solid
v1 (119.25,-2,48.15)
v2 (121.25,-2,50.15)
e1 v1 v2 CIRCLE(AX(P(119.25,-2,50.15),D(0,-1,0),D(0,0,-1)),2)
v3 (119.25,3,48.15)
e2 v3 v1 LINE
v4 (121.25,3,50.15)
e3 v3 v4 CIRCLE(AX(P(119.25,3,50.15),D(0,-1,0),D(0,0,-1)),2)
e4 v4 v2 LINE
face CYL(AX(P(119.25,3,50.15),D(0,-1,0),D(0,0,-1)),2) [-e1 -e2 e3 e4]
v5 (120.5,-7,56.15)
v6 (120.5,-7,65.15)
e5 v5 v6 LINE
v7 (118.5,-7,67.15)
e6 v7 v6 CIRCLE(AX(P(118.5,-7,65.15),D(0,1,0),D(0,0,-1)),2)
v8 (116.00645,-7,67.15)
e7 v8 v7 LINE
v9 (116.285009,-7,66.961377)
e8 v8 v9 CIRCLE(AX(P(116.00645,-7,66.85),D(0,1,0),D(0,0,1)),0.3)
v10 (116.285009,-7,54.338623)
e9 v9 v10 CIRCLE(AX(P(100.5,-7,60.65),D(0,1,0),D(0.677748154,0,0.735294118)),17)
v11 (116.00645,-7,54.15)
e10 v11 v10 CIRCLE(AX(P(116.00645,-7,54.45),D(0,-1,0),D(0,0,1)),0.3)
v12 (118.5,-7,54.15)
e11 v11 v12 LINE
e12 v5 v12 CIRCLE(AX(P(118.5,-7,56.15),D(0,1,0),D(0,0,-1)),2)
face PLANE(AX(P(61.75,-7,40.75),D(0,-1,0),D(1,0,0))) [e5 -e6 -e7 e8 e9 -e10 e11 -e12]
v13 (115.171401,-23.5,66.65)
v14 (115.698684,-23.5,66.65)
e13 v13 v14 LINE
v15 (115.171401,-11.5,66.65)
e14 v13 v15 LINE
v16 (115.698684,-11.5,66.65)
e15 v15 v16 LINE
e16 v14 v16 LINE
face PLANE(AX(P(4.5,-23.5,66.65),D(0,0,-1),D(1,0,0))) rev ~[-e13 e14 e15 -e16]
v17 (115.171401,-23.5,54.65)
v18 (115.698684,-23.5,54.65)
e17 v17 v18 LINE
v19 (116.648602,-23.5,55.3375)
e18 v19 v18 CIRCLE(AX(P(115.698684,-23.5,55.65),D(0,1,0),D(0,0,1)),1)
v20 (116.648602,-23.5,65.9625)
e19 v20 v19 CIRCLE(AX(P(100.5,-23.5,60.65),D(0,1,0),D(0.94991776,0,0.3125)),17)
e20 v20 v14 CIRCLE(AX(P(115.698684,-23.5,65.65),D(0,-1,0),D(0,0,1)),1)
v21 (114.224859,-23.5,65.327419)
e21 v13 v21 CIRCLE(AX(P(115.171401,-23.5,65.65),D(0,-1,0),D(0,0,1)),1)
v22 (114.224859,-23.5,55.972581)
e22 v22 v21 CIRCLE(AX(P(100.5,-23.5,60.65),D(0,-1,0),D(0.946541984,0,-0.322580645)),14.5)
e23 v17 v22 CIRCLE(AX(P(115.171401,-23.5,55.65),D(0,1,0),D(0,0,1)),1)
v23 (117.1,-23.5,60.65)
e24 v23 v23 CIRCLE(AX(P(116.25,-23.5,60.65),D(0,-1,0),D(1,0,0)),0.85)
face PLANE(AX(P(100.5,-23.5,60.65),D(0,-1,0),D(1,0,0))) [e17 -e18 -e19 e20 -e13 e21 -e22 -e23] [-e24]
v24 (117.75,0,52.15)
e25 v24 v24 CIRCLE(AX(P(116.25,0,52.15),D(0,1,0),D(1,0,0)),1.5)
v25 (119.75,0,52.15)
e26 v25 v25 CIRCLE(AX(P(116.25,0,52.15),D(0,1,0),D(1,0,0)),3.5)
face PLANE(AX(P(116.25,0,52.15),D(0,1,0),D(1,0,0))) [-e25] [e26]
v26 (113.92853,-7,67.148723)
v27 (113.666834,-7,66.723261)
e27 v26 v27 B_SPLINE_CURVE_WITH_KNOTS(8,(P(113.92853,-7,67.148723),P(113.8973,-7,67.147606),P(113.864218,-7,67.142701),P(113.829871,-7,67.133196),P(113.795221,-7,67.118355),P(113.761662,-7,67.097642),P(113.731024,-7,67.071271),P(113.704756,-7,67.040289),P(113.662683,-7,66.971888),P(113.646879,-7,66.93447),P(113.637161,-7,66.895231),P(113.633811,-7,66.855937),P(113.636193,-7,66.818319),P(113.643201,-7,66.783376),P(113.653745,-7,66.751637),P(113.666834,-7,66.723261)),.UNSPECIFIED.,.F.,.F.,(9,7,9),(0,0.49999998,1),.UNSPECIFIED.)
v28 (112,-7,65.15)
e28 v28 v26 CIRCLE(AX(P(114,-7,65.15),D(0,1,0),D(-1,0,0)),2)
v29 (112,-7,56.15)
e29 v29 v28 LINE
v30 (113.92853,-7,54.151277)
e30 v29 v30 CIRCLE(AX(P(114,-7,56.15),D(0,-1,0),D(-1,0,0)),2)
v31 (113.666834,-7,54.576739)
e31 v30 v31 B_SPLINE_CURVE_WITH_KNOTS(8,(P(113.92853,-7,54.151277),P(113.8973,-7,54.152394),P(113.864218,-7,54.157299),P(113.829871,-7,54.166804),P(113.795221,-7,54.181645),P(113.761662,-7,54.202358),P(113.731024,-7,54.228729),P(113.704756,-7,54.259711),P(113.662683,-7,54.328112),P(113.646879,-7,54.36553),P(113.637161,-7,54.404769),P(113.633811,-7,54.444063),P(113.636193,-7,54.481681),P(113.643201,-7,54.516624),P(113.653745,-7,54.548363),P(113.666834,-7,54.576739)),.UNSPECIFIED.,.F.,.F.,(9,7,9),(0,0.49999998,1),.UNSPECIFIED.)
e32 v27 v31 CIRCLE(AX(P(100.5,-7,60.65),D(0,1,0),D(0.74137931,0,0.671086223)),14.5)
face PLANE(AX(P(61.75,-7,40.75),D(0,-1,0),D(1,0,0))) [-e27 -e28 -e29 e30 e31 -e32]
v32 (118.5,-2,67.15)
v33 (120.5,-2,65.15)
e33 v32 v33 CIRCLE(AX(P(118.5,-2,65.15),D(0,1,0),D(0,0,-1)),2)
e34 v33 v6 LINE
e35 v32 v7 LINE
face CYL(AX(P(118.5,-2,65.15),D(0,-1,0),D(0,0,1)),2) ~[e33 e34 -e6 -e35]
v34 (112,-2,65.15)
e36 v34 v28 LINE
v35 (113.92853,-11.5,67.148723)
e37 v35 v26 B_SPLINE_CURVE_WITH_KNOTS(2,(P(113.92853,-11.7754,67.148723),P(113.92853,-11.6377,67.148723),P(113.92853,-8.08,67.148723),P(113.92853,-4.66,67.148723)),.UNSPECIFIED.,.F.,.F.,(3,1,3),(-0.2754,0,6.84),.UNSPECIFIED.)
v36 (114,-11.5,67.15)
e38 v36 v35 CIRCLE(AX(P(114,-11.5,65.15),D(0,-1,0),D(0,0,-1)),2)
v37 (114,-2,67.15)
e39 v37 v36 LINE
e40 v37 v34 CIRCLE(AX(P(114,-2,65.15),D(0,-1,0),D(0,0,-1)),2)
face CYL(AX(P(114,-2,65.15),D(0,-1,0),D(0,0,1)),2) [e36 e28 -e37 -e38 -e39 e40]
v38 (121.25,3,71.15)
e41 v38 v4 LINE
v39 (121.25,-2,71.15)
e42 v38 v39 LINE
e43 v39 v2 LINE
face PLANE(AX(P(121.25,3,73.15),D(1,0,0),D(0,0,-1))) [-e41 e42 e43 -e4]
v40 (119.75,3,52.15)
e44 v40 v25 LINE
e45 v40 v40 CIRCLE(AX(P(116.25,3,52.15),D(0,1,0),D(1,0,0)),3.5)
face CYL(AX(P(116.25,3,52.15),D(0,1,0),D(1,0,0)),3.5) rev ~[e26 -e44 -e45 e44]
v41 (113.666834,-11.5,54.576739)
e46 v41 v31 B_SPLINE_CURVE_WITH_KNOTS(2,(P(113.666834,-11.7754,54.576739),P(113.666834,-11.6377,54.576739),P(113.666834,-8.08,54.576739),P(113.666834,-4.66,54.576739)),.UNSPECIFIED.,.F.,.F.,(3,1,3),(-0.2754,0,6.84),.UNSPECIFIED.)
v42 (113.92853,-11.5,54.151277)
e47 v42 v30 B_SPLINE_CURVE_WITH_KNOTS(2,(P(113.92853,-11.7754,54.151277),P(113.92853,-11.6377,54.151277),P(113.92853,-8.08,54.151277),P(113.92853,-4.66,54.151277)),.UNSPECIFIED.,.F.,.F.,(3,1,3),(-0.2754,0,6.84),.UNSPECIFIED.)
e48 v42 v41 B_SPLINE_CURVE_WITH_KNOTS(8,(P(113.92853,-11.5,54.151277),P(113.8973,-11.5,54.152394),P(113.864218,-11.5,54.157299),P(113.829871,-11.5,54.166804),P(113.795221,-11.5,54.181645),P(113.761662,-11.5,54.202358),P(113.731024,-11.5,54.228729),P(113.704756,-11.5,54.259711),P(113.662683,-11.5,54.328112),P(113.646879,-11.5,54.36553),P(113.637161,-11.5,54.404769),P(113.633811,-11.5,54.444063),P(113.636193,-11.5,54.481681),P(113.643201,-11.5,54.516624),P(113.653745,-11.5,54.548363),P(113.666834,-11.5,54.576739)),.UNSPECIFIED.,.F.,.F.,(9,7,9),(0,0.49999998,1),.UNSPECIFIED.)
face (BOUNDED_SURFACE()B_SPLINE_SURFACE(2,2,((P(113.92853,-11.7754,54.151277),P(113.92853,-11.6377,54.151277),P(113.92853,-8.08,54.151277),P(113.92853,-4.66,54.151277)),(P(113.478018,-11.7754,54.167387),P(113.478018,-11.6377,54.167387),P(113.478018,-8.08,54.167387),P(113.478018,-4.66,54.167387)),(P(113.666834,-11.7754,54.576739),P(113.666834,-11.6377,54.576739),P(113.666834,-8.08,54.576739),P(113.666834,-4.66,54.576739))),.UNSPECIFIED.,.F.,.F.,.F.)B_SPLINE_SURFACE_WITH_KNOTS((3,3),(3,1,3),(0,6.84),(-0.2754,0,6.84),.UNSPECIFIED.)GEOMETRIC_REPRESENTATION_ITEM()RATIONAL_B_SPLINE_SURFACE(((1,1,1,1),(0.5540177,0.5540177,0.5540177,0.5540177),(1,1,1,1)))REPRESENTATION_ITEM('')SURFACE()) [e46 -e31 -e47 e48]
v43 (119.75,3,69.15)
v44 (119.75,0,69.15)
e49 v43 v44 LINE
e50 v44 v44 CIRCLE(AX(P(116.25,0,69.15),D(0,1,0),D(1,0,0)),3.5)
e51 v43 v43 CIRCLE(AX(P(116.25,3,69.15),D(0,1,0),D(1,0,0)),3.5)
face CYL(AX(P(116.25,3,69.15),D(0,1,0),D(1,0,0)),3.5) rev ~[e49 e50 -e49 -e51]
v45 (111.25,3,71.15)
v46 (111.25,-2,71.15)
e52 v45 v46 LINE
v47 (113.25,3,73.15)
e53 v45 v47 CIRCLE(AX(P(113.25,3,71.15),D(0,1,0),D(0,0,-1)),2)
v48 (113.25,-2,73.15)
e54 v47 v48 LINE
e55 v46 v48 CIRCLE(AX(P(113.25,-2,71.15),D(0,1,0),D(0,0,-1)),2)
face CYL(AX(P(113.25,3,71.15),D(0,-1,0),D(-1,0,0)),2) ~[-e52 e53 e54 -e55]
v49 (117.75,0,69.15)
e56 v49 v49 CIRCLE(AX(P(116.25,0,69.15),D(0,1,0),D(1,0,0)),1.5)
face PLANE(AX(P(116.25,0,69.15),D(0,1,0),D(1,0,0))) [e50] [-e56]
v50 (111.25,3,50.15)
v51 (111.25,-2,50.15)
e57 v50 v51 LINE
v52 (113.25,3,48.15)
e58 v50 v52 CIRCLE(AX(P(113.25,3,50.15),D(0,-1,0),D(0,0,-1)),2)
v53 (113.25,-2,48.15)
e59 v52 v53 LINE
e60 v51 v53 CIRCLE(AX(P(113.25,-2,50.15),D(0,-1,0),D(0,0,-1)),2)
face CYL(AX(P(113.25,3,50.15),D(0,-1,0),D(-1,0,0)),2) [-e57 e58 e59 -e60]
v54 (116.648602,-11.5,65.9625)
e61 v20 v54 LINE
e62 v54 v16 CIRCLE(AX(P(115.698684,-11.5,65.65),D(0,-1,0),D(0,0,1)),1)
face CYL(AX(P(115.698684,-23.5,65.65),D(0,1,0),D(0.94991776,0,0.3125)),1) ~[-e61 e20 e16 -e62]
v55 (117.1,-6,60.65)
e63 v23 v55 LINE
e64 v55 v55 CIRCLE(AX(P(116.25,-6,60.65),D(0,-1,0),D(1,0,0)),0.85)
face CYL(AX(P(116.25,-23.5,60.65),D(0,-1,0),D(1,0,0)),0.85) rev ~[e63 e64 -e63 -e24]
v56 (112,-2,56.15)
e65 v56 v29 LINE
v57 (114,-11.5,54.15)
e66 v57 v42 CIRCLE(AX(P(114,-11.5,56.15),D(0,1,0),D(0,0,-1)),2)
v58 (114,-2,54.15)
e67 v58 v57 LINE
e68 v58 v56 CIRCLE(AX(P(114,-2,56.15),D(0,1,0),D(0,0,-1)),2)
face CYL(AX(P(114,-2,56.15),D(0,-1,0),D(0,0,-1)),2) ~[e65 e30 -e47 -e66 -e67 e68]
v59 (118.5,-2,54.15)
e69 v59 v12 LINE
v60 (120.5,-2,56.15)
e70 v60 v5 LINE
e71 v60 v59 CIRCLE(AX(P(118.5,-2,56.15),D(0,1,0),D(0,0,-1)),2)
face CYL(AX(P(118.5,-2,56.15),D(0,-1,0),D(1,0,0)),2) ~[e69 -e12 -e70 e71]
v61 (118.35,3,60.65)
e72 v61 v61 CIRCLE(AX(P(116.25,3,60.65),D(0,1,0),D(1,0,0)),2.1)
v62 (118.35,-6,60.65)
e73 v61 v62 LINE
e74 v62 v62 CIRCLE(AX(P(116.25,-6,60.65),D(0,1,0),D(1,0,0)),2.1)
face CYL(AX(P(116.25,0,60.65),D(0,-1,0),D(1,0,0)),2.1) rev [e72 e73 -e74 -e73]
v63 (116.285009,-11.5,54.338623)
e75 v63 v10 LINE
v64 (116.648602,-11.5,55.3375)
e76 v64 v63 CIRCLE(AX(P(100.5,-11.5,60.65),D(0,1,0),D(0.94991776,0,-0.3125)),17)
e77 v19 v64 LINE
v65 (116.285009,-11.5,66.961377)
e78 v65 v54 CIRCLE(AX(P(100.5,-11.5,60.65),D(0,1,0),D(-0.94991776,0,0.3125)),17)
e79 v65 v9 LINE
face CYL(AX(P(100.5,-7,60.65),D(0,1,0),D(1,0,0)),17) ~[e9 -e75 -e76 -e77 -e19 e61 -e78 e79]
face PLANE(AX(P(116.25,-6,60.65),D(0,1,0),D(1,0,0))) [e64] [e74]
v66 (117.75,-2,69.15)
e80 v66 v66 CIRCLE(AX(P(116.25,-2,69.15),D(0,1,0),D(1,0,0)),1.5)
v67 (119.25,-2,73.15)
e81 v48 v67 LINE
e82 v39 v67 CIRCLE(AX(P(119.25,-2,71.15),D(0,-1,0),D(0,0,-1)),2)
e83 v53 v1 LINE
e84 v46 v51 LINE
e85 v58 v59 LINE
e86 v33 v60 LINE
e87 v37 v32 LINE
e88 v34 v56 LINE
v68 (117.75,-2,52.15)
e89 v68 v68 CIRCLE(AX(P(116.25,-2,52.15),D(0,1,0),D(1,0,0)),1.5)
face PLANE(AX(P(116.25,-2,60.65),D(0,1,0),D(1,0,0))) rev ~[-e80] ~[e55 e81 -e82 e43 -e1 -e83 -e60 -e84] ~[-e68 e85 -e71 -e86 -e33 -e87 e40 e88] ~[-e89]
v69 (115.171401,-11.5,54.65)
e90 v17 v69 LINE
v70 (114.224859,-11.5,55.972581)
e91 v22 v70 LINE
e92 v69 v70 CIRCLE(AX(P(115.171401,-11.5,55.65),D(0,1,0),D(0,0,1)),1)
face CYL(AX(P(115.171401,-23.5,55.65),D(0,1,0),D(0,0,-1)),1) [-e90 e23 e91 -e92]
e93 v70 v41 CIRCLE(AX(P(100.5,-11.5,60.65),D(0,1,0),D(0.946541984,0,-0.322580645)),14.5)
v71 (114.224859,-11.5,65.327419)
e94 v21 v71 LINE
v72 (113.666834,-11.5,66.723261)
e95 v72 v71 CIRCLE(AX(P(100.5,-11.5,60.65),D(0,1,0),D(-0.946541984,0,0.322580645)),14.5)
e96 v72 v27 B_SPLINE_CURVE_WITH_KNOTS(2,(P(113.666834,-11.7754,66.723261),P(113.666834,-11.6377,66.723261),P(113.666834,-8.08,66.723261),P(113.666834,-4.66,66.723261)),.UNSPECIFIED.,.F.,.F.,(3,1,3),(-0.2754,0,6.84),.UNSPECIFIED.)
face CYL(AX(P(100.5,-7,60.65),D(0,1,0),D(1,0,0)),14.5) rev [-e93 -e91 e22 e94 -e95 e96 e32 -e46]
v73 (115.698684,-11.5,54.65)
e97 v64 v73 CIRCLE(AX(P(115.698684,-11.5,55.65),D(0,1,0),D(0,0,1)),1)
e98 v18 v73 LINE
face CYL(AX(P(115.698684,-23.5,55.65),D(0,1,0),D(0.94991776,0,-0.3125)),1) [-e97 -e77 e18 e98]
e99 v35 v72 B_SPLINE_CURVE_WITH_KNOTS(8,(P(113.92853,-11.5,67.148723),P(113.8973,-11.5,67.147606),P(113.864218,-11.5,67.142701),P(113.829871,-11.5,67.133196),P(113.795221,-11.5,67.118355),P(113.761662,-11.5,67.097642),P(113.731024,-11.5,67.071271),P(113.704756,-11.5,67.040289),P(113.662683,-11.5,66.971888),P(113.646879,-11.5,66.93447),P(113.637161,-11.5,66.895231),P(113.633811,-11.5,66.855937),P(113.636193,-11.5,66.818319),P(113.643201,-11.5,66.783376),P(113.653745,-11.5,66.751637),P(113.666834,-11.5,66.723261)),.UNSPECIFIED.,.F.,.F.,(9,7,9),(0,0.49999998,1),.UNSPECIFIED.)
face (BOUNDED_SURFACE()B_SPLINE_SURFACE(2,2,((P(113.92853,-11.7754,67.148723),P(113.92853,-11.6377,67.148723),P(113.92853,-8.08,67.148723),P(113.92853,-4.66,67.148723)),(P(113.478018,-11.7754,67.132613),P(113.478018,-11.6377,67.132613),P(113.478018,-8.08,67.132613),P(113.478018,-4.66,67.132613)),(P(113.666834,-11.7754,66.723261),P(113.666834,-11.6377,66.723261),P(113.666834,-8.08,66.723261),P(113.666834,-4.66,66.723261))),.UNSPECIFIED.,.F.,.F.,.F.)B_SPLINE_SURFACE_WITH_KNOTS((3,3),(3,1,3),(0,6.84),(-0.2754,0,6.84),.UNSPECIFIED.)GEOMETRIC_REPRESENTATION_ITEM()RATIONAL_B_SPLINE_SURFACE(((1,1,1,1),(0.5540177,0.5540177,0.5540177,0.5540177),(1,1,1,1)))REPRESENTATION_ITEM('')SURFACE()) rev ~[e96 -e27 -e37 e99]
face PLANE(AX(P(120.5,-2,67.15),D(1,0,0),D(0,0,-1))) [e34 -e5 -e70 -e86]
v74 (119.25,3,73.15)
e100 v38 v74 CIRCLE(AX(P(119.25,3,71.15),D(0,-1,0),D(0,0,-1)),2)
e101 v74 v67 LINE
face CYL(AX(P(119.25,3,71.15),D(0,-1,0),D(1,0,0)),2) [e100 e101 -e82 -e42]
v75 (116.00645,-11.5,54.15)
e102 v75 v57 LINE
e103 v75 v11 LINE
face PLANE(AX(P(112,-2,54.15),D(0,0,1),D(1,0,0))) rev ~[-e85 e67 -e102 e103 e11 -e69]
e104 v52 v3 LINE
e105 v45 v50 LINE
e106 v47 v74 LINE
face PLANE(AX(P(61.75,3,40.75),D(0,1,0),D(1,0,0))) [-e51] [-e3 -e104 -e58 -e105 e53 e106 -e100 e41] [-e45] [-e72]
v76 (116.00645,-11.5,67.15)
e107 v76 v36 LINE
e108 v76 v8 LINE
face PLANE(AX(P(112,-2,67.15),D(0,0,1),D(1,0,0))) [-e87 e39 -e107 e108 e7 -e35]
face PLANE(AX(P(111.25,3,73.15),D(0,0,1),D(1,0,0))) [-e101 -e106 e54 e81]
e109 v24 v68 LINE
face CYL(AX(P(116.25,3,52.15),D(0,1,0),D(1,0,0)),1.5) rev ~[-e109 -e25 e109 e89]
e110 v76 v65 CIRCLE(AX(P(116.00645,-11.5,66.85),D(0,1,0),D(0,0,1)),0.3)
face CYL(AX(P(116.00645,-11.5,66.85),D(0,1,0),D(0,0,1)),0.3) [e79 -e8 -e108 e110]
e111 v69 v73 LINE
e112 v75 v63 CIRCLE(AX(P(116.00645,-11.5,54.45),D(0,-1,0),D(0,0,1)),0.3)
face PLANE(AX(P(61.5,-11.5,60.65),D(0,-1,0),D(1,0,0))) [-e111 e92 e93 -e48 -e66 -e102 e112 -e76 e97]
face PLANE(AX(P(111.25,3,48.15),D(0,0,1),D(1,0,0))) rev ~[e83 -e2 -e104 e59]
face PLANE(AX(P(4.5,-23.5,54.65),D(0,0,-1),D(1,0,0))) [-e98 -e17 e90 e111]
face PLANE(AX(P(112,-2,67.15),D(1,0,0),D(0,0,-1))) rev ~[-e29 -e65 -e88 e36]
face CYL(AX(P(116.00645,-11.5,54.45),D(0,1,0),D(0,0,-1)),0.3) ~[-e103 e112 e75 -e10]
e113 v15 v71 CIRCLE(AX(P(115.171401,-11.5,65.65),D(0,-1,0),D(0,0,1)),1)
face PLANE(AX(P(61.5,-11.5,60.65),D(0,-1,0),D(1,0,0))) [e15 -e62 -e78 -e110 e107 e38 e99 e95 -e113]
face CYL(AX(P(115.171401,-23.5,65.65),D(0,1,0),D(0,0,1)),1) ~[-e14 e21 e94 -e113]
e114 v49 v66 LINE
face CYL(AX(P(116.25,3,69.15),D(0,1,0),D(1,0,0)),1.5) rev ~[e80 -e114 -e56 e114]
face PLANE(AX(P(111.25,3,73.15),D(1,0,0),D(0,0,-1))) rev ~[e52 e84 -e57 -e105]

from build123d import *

# Parameters (mm, degrees)
SKETCH1_W           = 123.5
SKETCH1_H           = 81.5
BOSS_EXTRUDE1_DEPTH = 8
CHAMFER1_SIZE       = 10
SKETCH2_W           = 130
SKETCH2_H           = 88
BOSS_EXTRUDE2_DEPTH = 9
FILLET1_R           = 2
SKETCH3_W           = 124
SKETCH3_H           = 82
CUT_EXTRUDE1_DEPTH  = 2
FILLET2_R           = 2
SKETCH4_R           = 10
CUT_EXTRUDE2_DEPTH  = 18
SKETCH5_R           = 17
SKETCH5_R_2         = 14.5
BOSS_EXTRUDE3_DEPTH = 16.5
SKETCH6_W           = 170
SKETCH6_H           = 36.5
SKETCH6_W_2         = 114
SKETCH6_H_2         = 12
CUT_EXTRUDE3_DEPTH  = 12
FILLET3_R           = 1
SKETCH7_R           = 0.85
CUT_EXTRUDE4_DEPTH  = 20.75
SKETCH11_W          = 130
SKETCH11_H          = 10
CUT_EXTRUDE8_DEPTH  = 85.75
SKETCH13_R          = 2.1
CUT_EXTRUDE9_DEPTH  = 6
SKETCH15_R          = 2.1
SKETCH15_R_2        = 10
BOSS_EXTRUDE4_DEPTH = 3
SKETCH16_W          = 188.077165187
SKETCH16_H          = 117.101438596
SKETCH16_W_2        = 10
SKETCH16_H_2        = 25
CUT_EXTRUDE10_DEPTH = 27.5
CUT_EXTRUDE11_START = -5
SKETCH17_W          = 10
SKETCH17_H          = 25
SKETCH17_W_2        = 8.5
SKETCH17_H_2        = 13
CUT_EXTRUDE11_DEPTH = 22.5
FILLET4_R           = 2
SKETCH18_R          = 1.5
CUT_EXTRUDE12_DEPTH = 27.5
SKETCH19_R          = 3.5
CUT_EXTRUDE13_DEPTH = 3
FILLET5_R           = 0.3


with BuildPart() as part:
    # Sketch1 → Boss-Extrude1 (new body)
    with BuildSketch(Plane(origin=(0, 0, 0), x_dir=(1, 0, 0), z_dir=(0, 1, 0))):
        with Locations((61.75, -40.75)):
            Rectangle(SKETCH1_W, SKETCH1_H)
    extrude(amount=BOSS_EXTRUDE1_DEPTH)

    # Chamfer1
    chamfer1_edges = [part.edges().sort_by_distance(p)[0] for p in [
        (123.5, 4, 0),
        (123.5, 4, 81.5),
    ]]
    chamfer(chamfer1_edges, length=CHAMFER1_SIZE)

    # Sketch2 → Boss-Extrude2 (add)
    with BuildSketch(Plane.XZ):
        with Locations((61.75, 40.75)):
            Rectangle(SKETCH2_W, SKETCH2_H)
    extrude(amount=BOSS_EXTRUDE2_DEPTH)

    # Fillet1
    fillet1_edges = [part.edges().sort_by_distance(p)[0] for p in [
        (113.5, 4, 0),
        (123.5, 4, 71.5),
        (123.5, 4, 10),
        (113.5, 4, 81.5),
        (-3.25, -4.5, 84.75),
        (-3.25, -4.5, -3.25),
        (126.75, -4.5, -3.25),
        (126.75, -4.5, 84.75),
        (0, 4, 0),
        (0, 4, 81.5),
    ]]
    fillet(fillet1_edges, radius=FILLET1_R)

    # Sketch3 → Cut-Extrude1 (cut)
    with BuildSketch(Plane.XZ.offset(9)):
        with Locations((61.75, 40.75)):
            Rectangle(SKETCH3_W, SKETCH3_H)
    extrude(amount=-CUT_EXTRUDE1_DEPTH, mode=Mode.SUBTRACT)

    # Fillet2
    fillet2_edges = [part.edges().sort_by_distance(p)[0] for p in [
        (-0.25, -8, -0.25),
        (-0.25, -8, 81.75),
        (123.75, -8, 81.75),
        (123.75, -8, -0.25),
    ]]
    fillet(fillet2_edges, radius=FILLET2_R)

    # Sketch4 → Cut-Extrude2 (cut, through all)
    with BuildSketch(Plane(origin=(0, 8, 0), x_dir=(1, 0, 0), z_dir=(0, 1, 0))):
        with Locations((22.5, -20.85)):
            Circle(SKETCH4_R)
        with Locations((61.5, -20.85)):
            Circle(SKETCH4_R)
        with Locations((100.5, -20.85)):
            Circle(SKETCH4_R)
        with Locations((100.5, -60.65)):
            Circle(SKETCH4_R)
        with Locations((61.5, -60.65)):
            Circle(SKETCH4_R)
        with Locations((22.5, -60.65)):
            Circle(SKETCH4_R)
    extrude(amount=-CUT_EXTRUDE2_DEPTH, mode=Mode.SUBTRACT)

    # Sketch5 → Boss-Extrude3 (add)
    with BuildSketch(Plane.XZ.offset(7)):
        with Locations((22.5, 60.65)):
            Circle(SKETCH5_R)
        with Locations((22.5, 60.65)):
            Circle(SKETCH5_R_2, mode=Mode.SUBTRACT)
        with Locations((61.5, 60.65)):
            Circle(SKETCH5_R)
        with Locations((61.5, 60.65)):
            Circle(SKETCH5_R_2, mode=Mode.SUBTRACT)
        with Locations((100.5, 60.65)):
            Circle(SKETCH5_R)
        with Locations((100.5, 60.65)):
            Circle(SKETCH5_R_2, mode=Mode.SUBTRACT)
        with Locations((100.5, 20.85)):
            Circle(SKETCH5_R)
        with Locations((100.5, 20.85)):
            Circle(SKETCH5_R_2, mode=Mode.SUBTRACT)
        with Locations((61.5, 20.85)):
            Circle(SKETCH5_R)
        with Locations((61.5, 20.85)):
            Circle(SKETCH5_R_2, mode=Mode.SUBTRACT)
        with Locations((22.5, 20.85)):
            Circle(SKETCH5_R)
        with Locations((22.5, 20.85)):
            Circle(SKETCH5_R_2, mode=Mode.SUBTRACT)
    extrude(amount=BOSS_EXTRUDE3_DEPTH)

    # Sketch6 → Cut-Extrude3 (cut)
    with BuildSketch(Plane.XZ.offset(23.5)):
        with Locations((61.5, 20.85)):
            Rectangle(SKETCH6_W, SKETCH6_H)
        with Locations((61.5, 20.85)):
            Rectangle(SKETCH6_W_2, SKETCH6_H_2, mode=Mode.SUBTRACT)
        with Locations((61.5, 60.65)):
            Rectangle(SKETCH6_W, SKETCH6_H)
        with Locations((61.5, 60.65)):
            Rectangle(SKETCH6_W_2, SKETCH6_H_2, mode=Mode.SUBTRACT)
    extrude(amount=-CUT_EXTRUDE3_DEPTH, mode=Mode.SUBTRACT)

    # Fillet3
    fillet3_edges = [part.edges().sort_by_distance(p)[0] for p in [
        (87.299621218, -17.5, 66.65),
        (113.700378782, -17.5, 66.65),
        (113.700378782, -17.5, 54.65),
        (87.299621218, -17.5, 54.65),
        (9.299621218, -17.5, 54.65),
        (35.700378782, -17.5, 54.65),
        (6.594026279, -17.5, 54.65),
        (48.299621218, -17.5, 54.65),
        (74.700378782, -17.5, 54.65),
        (38.405973721, -17.5, 54.65),
        (45.594026279, -17.5, 54.65),
        (77.405973721, -17.5, 54.65),
        (84.594026279, -17.5, 54.65),
        (35.700378782, -17.5, 66.65),
        (9.299621218, -17.5, 66.65),
        (38.405973721, -17.5, 66.65),
        (45.594026279, -17.5, 66.65),
        (74.700378782, -17.5, 66.65),
        (48.299621218, -17.5, 66.65),
        (77.405973721, -17.5, 66.65),
        (84.594026279, -17.5, 66.65),
        (116.405973721, -17.5, 66.65),
        (116.405973721, -17.5, 54.65),
        (6.594026279, -17.5, 66.65),
        (35.700378782, -17.5, 14.85),
        (9.299621218, -17.5, 14.85),
        (9.299621218, -17.5, 26.85),
        (35.700378782, -17.5, 26.85),
        (113.700378782, -17.5, 26.85),
        (87.299621218, -17.5, 26.85),
        (116.405973721, -17.5, 26.85),
        (74.700378782, -17.5, 26.85),
        (48.299621218, -17.5, 26.85),
        (84.594026279, -17.5, 26.85),
        (77.405973721, -17.5, 26.85),
        (45.594026279, -17.5, 26.85),
        (38.405973721, -17.5, 26.85),
        (87.299621218, -17.5, 14.85),
        (113.700378782, -17.5, 14.85),
        (84.594026279, -17.5, 14.85),
        (77.405973721, -17.5, 14.85),
        (48.299621218, -17.5, 14.85),
        (74.700378782, -17.5, 14.85),
        (45.594026279, -17.5, 14.85),
        (38.405973721, -17.5, 14.85),
        (6.594026279, -17.5, 14.85),
        (6.594026279, -17.5, 26.85),
        (116.405973721, -17.5, 14.85),
    ]]
    fillet(fillet3_edges, radius=FILLET3_R)

    # Sketch7 → Cut-Extrude4 (cut)
    with BuildSketch(Plane.XZ.offset(23.5)):
        with Locations((6.75, 20.85)):
            Circle(SKETCH7_R)
        with Locations((38.25, 20.85)):
            Circle(SKETCH7_R)
        with Locations((45.75, 20.85)):
            Circle(SKETCH7_R)
        with Locations((77.25, 20.85)):
            Circle(SKETCH7_R)
        with Locations((84.75, 20.85)):
            Circle(SKETCH7_R)
        with Locations((116.25, 20.85)):
            Circle(SKETCH7_R)
        with Locations((116.25, 60.65)):
            Circle(SKETCH7_R)
        with Locations((84.75, 60.65)):
            Circle(SKETCH7_R)
        with Locations((77.25, 60.65)):
            Circle(SKETCH7_R)
        with Locations((45.75, 60.65)):
            Circle(SKETCH7_R)
        with Locations((38.25, 60.65)):
            Circle(SKETCH7_R)
        with Locations((6.75, 60.65)):
            Circle(SKETCH7_R)
    extrude(amount=-CUT_EXTRUDE4_DEPTH, mode=Mode.SUBTRACT)

    # Sketch11 → Cut-Extrude8 (cut, through all)
    with BuildSketch(Plane(origin=(0, 0, 0), x_dir=(-1, 0, 0), z_dir=(0, 0, -1))):
        with Locations((-61.75, 5)):
            Rectangle(SKETCH11_W, SKETCH11_H)
    extrude(amount=-CUT_EXTRUDE8_DEPTH, mode=Mode.SUBTRACT)

    # Sketch13 → Cut-Extrude9 (cut)
    with BuildSketch(Plane(origin=(0, 0, 0), x_dir=(1, 0, 0), z_dir=(0, 1, 0))):
        with Locations((116.25, -60.65)):
            Circle(SKETCH13_R)
        with Locations((85.5, -60.65)):
            Circle(SKETCH13_R)
        with Locations((76.5, -60.65)):
            Circle(SKETCH13_R)
        with Locations((116.25, -20.85)):
            Circle(SKETCH13_R)
        with Locations((85.5, -20.85)):
            Circle(SKETCH13_R)
        with Locations((76.5, -20.85)):
            Circle(SKETCH13_R)
        with Locations((46.5, -20.85)):
            Circle(SKETCH13_R)
        with Locations((37.5, -20.85)):
            Circle(SKETCH13_R)
        with Locations((6.75, -20.85)):
            Circle(SKETCH13_R)
        with Locations((6.75, -60.65)):
            Circle(SKETCH13_R)
        with Locations((37.5, -60.65)):
            Circle(SKETCH13_R)
        with Locations((46.5, -60.65)):
            Circle(SKETCH13_R)
    extrude(amount=-CUT_EXTRUDE9_DEPTH, mode=Mode.SUBTRACT)

    # Sketch15 → Boss-Extrude4 (add)
    with BuildSketch(Plane(origin=(0, 0, 0), x_dir=(1, 0, 0), z_dir=(0, 1, 0))):
        with BuildLine():
            Line((126.75, -82.75), (126.75, 1.25))
            ThreePointArc((126.75, 1.25), (126.164213562, 2.664213562), (124.75, 3.25))
            Line((124.75, 3.25), (-1.25, 3.25))
            ThreePointArc((-1.25, 3.25), (-2.664213562, 2.664213562), (-3.25, 1.25))
            Line((-3.25, 1.25), (-3.25, -82.75))
            ThreePointArc((-3.25, -82.75), (-2.664213562, -84.164213562), (-1.25, -84.75))
            Line((-1.25, -84.75), (124.75, -84.75))
            ThreePointArc((124.75, -84.75), (126.164213562, -84.164213562), (126.75, -82.75))
        make_face()
        with Locations((6.75, -60.65)):
            Circle(SKETCH15_R, mode=Mode.SUBTRACT)
        with Locations((22.5, -60.65)):
            Circle(SKETCH15_R_2, mode=Mode.SUBTRACT)
        with Locations((37.5, -60.65)):
            Circle(SKETCH15_R, mode=Mode.SUBTRACT)
        with Locations((46.5, -60.65)):
            Circle(SKETCH15_R, mode=Mode.SUBTRACT)
        with Locations((61.5, -60.65)):
            Circle(SKETCH15_R_2, mode=Mode.SUBTRACT)
        with Locations((76.5, -60.65)):
            Circle(SKETCH15_R, mode=Mode.SUBTRACT)
        with Locations((100.5, -60.65)):
            Circle(SKETCH15_R_2, mode=Mode.SUBTRACT)
        with Locations((116.25, -60.65)):
            Circle(SKETCH15_R, mode=Mode.SUBTRACT)
        with Locations((116.25, -20.85)):
            Circle(SKETCH15_R, mode=Mode.SUBTRACT)
        with Locations((100.5, -20.85)):
            Circle(SKETCH15_R_2, mode=Mode.SUBTRACT)
        with Locations((85.5, -20.85)):
            Circle(SKETCH15_R, mode=Mode.SUBTRACT)
        with Locations((76.5, -20.85)):
            Circle(SKETCH15_R, mode=Mode.SUBTRACT)
        with Locations((61.5, -20.85)):
            Circle(SKETCH15_R_2, mode=Mode.SUBTRACT)
        with Locations((46.5, -20.85)):
            Circle(SKETCH15_R, mode=Mode.SUBTRACT)
        with Locations((37.5, -20.85)):
            Circle(SKETCH15_R, mode=Mode.SUBTRACT)
        with Locations((22.5, -20.85)):
            Circle(SKETCH15_R_2, mode=Mode.SUBTRACT)
        with Locations((85.5, -60.65)):
            Circle(SKETCH15_R, mode=Mode.SUBTRACT)
        with Locations((6.75, -20.85)):
            Circle(SKETCH15_R, mode=Mode.SUBTRACT)
    extrude(amount=BOSS_EXTRUDE4_DEPTH)

    # Sketch16 → Cut-Extrude10 (cut, through all)
    with BuildSketch(Plane(origin=(0, 3, 0), x_dir=(1, 0, 0), z_dir=(0, 1, 0))):
        with Locations((70.835120056, -43.47328927)):
            Rectangle(SKETCH16_W, SKETCH16_H)
        with Locations((116.25, -60.65)):
            Rectangle(SKETCH16_W_2, SKETCH16_H_2, mode=Mode.SUBTRACT)
    extrude(amount=-CUT_EXTRUDE10_DEPTH, mode=Mode.SUBTRACT)

    # Sketch17 → Cut-Extrude11 (cut, through all)
    with BuildSketch(Plane(origin=(0, 3, 0), x_dir=(1, 0, 0), z_dir=(0, 1, 0)).offset(CUT_EXTRUDE11_START)):
        with Locations((116.25, -60.65)):
            Rectangle(SKETCH17_W, SKETCH17_H)
        with Locations((116.25, -60.65)):
            Rectangle(SKETCH17_W_2, SKETCH17_H_2, mode=Mode.SUBTRACT)
    extrude(amount=-CUT_EXTRUDE11_DEPTH, mode=Mode.SUBTRACT)

    # Fillet4
    fillet4_edges = [part.edges().sort_by_distance(p)[0] for p in [
        (120.5, -4.5, 54.15),
        (121.25, 0.5, 48.15),
        (120.5, -4.5, 67.15),
        (112, -4.5, 54.15),
        (112, -4.5, 67.15),
        (121.25, 0.5, 73.15),
        (111.25, 0.5, 73.15),
        (111.25, 0.5, 48.15),
    ]]
    fillet(fillet4_edges, radius=FILLET4_R)

    # Sketch18 → Cut-Extrude12 (cut, through all)
    with BuildSketch(Plane(origin=(0, 3, 0), x_dir=(1, 0, 0), z_dir=(0, 1, 0))):
        with Locations((116.25, -52.15)):
            Circle(SKETCH18_R)
        with Locations((116.25, -69.15)):
            Circle(SKETCH18_R)
    extrude(amount=-CUT_EXTRUDE12_DEPTH, mode=Mode.SUBTRACT)

    # Sketch19 → Cut-Extrude13 (cut)
    with BuildSketch(Plane(origin=(0, 3, 0), x_dir=(1, 0, 0), z_dir=(0, 1, 0))):
        with Locations((116.25, -52.15)):
            Circle(SKETCH19_R)
        with Locations((116.25, -69.15)):
            Circle(SKETCH19_R)
    extrude(amount=-CUT_EXTRUDE13_DEPTH, mode=Mode.SUBTRACT)

    # Fillet5
    fillet5_edges = [part.edges().sort_by_distance(p)[0] for p in [
        (116.208278072, -9.25, 67.15),
        (116.208278072, -9.25, 54.15),
        (113.493918477, -9.25, 67.084911236),
        (113.493918477, -9.25, 54.215088764),
    ]]
    fillet(fillet5_edges, radius=FILLET5_R)


solid = part.part
